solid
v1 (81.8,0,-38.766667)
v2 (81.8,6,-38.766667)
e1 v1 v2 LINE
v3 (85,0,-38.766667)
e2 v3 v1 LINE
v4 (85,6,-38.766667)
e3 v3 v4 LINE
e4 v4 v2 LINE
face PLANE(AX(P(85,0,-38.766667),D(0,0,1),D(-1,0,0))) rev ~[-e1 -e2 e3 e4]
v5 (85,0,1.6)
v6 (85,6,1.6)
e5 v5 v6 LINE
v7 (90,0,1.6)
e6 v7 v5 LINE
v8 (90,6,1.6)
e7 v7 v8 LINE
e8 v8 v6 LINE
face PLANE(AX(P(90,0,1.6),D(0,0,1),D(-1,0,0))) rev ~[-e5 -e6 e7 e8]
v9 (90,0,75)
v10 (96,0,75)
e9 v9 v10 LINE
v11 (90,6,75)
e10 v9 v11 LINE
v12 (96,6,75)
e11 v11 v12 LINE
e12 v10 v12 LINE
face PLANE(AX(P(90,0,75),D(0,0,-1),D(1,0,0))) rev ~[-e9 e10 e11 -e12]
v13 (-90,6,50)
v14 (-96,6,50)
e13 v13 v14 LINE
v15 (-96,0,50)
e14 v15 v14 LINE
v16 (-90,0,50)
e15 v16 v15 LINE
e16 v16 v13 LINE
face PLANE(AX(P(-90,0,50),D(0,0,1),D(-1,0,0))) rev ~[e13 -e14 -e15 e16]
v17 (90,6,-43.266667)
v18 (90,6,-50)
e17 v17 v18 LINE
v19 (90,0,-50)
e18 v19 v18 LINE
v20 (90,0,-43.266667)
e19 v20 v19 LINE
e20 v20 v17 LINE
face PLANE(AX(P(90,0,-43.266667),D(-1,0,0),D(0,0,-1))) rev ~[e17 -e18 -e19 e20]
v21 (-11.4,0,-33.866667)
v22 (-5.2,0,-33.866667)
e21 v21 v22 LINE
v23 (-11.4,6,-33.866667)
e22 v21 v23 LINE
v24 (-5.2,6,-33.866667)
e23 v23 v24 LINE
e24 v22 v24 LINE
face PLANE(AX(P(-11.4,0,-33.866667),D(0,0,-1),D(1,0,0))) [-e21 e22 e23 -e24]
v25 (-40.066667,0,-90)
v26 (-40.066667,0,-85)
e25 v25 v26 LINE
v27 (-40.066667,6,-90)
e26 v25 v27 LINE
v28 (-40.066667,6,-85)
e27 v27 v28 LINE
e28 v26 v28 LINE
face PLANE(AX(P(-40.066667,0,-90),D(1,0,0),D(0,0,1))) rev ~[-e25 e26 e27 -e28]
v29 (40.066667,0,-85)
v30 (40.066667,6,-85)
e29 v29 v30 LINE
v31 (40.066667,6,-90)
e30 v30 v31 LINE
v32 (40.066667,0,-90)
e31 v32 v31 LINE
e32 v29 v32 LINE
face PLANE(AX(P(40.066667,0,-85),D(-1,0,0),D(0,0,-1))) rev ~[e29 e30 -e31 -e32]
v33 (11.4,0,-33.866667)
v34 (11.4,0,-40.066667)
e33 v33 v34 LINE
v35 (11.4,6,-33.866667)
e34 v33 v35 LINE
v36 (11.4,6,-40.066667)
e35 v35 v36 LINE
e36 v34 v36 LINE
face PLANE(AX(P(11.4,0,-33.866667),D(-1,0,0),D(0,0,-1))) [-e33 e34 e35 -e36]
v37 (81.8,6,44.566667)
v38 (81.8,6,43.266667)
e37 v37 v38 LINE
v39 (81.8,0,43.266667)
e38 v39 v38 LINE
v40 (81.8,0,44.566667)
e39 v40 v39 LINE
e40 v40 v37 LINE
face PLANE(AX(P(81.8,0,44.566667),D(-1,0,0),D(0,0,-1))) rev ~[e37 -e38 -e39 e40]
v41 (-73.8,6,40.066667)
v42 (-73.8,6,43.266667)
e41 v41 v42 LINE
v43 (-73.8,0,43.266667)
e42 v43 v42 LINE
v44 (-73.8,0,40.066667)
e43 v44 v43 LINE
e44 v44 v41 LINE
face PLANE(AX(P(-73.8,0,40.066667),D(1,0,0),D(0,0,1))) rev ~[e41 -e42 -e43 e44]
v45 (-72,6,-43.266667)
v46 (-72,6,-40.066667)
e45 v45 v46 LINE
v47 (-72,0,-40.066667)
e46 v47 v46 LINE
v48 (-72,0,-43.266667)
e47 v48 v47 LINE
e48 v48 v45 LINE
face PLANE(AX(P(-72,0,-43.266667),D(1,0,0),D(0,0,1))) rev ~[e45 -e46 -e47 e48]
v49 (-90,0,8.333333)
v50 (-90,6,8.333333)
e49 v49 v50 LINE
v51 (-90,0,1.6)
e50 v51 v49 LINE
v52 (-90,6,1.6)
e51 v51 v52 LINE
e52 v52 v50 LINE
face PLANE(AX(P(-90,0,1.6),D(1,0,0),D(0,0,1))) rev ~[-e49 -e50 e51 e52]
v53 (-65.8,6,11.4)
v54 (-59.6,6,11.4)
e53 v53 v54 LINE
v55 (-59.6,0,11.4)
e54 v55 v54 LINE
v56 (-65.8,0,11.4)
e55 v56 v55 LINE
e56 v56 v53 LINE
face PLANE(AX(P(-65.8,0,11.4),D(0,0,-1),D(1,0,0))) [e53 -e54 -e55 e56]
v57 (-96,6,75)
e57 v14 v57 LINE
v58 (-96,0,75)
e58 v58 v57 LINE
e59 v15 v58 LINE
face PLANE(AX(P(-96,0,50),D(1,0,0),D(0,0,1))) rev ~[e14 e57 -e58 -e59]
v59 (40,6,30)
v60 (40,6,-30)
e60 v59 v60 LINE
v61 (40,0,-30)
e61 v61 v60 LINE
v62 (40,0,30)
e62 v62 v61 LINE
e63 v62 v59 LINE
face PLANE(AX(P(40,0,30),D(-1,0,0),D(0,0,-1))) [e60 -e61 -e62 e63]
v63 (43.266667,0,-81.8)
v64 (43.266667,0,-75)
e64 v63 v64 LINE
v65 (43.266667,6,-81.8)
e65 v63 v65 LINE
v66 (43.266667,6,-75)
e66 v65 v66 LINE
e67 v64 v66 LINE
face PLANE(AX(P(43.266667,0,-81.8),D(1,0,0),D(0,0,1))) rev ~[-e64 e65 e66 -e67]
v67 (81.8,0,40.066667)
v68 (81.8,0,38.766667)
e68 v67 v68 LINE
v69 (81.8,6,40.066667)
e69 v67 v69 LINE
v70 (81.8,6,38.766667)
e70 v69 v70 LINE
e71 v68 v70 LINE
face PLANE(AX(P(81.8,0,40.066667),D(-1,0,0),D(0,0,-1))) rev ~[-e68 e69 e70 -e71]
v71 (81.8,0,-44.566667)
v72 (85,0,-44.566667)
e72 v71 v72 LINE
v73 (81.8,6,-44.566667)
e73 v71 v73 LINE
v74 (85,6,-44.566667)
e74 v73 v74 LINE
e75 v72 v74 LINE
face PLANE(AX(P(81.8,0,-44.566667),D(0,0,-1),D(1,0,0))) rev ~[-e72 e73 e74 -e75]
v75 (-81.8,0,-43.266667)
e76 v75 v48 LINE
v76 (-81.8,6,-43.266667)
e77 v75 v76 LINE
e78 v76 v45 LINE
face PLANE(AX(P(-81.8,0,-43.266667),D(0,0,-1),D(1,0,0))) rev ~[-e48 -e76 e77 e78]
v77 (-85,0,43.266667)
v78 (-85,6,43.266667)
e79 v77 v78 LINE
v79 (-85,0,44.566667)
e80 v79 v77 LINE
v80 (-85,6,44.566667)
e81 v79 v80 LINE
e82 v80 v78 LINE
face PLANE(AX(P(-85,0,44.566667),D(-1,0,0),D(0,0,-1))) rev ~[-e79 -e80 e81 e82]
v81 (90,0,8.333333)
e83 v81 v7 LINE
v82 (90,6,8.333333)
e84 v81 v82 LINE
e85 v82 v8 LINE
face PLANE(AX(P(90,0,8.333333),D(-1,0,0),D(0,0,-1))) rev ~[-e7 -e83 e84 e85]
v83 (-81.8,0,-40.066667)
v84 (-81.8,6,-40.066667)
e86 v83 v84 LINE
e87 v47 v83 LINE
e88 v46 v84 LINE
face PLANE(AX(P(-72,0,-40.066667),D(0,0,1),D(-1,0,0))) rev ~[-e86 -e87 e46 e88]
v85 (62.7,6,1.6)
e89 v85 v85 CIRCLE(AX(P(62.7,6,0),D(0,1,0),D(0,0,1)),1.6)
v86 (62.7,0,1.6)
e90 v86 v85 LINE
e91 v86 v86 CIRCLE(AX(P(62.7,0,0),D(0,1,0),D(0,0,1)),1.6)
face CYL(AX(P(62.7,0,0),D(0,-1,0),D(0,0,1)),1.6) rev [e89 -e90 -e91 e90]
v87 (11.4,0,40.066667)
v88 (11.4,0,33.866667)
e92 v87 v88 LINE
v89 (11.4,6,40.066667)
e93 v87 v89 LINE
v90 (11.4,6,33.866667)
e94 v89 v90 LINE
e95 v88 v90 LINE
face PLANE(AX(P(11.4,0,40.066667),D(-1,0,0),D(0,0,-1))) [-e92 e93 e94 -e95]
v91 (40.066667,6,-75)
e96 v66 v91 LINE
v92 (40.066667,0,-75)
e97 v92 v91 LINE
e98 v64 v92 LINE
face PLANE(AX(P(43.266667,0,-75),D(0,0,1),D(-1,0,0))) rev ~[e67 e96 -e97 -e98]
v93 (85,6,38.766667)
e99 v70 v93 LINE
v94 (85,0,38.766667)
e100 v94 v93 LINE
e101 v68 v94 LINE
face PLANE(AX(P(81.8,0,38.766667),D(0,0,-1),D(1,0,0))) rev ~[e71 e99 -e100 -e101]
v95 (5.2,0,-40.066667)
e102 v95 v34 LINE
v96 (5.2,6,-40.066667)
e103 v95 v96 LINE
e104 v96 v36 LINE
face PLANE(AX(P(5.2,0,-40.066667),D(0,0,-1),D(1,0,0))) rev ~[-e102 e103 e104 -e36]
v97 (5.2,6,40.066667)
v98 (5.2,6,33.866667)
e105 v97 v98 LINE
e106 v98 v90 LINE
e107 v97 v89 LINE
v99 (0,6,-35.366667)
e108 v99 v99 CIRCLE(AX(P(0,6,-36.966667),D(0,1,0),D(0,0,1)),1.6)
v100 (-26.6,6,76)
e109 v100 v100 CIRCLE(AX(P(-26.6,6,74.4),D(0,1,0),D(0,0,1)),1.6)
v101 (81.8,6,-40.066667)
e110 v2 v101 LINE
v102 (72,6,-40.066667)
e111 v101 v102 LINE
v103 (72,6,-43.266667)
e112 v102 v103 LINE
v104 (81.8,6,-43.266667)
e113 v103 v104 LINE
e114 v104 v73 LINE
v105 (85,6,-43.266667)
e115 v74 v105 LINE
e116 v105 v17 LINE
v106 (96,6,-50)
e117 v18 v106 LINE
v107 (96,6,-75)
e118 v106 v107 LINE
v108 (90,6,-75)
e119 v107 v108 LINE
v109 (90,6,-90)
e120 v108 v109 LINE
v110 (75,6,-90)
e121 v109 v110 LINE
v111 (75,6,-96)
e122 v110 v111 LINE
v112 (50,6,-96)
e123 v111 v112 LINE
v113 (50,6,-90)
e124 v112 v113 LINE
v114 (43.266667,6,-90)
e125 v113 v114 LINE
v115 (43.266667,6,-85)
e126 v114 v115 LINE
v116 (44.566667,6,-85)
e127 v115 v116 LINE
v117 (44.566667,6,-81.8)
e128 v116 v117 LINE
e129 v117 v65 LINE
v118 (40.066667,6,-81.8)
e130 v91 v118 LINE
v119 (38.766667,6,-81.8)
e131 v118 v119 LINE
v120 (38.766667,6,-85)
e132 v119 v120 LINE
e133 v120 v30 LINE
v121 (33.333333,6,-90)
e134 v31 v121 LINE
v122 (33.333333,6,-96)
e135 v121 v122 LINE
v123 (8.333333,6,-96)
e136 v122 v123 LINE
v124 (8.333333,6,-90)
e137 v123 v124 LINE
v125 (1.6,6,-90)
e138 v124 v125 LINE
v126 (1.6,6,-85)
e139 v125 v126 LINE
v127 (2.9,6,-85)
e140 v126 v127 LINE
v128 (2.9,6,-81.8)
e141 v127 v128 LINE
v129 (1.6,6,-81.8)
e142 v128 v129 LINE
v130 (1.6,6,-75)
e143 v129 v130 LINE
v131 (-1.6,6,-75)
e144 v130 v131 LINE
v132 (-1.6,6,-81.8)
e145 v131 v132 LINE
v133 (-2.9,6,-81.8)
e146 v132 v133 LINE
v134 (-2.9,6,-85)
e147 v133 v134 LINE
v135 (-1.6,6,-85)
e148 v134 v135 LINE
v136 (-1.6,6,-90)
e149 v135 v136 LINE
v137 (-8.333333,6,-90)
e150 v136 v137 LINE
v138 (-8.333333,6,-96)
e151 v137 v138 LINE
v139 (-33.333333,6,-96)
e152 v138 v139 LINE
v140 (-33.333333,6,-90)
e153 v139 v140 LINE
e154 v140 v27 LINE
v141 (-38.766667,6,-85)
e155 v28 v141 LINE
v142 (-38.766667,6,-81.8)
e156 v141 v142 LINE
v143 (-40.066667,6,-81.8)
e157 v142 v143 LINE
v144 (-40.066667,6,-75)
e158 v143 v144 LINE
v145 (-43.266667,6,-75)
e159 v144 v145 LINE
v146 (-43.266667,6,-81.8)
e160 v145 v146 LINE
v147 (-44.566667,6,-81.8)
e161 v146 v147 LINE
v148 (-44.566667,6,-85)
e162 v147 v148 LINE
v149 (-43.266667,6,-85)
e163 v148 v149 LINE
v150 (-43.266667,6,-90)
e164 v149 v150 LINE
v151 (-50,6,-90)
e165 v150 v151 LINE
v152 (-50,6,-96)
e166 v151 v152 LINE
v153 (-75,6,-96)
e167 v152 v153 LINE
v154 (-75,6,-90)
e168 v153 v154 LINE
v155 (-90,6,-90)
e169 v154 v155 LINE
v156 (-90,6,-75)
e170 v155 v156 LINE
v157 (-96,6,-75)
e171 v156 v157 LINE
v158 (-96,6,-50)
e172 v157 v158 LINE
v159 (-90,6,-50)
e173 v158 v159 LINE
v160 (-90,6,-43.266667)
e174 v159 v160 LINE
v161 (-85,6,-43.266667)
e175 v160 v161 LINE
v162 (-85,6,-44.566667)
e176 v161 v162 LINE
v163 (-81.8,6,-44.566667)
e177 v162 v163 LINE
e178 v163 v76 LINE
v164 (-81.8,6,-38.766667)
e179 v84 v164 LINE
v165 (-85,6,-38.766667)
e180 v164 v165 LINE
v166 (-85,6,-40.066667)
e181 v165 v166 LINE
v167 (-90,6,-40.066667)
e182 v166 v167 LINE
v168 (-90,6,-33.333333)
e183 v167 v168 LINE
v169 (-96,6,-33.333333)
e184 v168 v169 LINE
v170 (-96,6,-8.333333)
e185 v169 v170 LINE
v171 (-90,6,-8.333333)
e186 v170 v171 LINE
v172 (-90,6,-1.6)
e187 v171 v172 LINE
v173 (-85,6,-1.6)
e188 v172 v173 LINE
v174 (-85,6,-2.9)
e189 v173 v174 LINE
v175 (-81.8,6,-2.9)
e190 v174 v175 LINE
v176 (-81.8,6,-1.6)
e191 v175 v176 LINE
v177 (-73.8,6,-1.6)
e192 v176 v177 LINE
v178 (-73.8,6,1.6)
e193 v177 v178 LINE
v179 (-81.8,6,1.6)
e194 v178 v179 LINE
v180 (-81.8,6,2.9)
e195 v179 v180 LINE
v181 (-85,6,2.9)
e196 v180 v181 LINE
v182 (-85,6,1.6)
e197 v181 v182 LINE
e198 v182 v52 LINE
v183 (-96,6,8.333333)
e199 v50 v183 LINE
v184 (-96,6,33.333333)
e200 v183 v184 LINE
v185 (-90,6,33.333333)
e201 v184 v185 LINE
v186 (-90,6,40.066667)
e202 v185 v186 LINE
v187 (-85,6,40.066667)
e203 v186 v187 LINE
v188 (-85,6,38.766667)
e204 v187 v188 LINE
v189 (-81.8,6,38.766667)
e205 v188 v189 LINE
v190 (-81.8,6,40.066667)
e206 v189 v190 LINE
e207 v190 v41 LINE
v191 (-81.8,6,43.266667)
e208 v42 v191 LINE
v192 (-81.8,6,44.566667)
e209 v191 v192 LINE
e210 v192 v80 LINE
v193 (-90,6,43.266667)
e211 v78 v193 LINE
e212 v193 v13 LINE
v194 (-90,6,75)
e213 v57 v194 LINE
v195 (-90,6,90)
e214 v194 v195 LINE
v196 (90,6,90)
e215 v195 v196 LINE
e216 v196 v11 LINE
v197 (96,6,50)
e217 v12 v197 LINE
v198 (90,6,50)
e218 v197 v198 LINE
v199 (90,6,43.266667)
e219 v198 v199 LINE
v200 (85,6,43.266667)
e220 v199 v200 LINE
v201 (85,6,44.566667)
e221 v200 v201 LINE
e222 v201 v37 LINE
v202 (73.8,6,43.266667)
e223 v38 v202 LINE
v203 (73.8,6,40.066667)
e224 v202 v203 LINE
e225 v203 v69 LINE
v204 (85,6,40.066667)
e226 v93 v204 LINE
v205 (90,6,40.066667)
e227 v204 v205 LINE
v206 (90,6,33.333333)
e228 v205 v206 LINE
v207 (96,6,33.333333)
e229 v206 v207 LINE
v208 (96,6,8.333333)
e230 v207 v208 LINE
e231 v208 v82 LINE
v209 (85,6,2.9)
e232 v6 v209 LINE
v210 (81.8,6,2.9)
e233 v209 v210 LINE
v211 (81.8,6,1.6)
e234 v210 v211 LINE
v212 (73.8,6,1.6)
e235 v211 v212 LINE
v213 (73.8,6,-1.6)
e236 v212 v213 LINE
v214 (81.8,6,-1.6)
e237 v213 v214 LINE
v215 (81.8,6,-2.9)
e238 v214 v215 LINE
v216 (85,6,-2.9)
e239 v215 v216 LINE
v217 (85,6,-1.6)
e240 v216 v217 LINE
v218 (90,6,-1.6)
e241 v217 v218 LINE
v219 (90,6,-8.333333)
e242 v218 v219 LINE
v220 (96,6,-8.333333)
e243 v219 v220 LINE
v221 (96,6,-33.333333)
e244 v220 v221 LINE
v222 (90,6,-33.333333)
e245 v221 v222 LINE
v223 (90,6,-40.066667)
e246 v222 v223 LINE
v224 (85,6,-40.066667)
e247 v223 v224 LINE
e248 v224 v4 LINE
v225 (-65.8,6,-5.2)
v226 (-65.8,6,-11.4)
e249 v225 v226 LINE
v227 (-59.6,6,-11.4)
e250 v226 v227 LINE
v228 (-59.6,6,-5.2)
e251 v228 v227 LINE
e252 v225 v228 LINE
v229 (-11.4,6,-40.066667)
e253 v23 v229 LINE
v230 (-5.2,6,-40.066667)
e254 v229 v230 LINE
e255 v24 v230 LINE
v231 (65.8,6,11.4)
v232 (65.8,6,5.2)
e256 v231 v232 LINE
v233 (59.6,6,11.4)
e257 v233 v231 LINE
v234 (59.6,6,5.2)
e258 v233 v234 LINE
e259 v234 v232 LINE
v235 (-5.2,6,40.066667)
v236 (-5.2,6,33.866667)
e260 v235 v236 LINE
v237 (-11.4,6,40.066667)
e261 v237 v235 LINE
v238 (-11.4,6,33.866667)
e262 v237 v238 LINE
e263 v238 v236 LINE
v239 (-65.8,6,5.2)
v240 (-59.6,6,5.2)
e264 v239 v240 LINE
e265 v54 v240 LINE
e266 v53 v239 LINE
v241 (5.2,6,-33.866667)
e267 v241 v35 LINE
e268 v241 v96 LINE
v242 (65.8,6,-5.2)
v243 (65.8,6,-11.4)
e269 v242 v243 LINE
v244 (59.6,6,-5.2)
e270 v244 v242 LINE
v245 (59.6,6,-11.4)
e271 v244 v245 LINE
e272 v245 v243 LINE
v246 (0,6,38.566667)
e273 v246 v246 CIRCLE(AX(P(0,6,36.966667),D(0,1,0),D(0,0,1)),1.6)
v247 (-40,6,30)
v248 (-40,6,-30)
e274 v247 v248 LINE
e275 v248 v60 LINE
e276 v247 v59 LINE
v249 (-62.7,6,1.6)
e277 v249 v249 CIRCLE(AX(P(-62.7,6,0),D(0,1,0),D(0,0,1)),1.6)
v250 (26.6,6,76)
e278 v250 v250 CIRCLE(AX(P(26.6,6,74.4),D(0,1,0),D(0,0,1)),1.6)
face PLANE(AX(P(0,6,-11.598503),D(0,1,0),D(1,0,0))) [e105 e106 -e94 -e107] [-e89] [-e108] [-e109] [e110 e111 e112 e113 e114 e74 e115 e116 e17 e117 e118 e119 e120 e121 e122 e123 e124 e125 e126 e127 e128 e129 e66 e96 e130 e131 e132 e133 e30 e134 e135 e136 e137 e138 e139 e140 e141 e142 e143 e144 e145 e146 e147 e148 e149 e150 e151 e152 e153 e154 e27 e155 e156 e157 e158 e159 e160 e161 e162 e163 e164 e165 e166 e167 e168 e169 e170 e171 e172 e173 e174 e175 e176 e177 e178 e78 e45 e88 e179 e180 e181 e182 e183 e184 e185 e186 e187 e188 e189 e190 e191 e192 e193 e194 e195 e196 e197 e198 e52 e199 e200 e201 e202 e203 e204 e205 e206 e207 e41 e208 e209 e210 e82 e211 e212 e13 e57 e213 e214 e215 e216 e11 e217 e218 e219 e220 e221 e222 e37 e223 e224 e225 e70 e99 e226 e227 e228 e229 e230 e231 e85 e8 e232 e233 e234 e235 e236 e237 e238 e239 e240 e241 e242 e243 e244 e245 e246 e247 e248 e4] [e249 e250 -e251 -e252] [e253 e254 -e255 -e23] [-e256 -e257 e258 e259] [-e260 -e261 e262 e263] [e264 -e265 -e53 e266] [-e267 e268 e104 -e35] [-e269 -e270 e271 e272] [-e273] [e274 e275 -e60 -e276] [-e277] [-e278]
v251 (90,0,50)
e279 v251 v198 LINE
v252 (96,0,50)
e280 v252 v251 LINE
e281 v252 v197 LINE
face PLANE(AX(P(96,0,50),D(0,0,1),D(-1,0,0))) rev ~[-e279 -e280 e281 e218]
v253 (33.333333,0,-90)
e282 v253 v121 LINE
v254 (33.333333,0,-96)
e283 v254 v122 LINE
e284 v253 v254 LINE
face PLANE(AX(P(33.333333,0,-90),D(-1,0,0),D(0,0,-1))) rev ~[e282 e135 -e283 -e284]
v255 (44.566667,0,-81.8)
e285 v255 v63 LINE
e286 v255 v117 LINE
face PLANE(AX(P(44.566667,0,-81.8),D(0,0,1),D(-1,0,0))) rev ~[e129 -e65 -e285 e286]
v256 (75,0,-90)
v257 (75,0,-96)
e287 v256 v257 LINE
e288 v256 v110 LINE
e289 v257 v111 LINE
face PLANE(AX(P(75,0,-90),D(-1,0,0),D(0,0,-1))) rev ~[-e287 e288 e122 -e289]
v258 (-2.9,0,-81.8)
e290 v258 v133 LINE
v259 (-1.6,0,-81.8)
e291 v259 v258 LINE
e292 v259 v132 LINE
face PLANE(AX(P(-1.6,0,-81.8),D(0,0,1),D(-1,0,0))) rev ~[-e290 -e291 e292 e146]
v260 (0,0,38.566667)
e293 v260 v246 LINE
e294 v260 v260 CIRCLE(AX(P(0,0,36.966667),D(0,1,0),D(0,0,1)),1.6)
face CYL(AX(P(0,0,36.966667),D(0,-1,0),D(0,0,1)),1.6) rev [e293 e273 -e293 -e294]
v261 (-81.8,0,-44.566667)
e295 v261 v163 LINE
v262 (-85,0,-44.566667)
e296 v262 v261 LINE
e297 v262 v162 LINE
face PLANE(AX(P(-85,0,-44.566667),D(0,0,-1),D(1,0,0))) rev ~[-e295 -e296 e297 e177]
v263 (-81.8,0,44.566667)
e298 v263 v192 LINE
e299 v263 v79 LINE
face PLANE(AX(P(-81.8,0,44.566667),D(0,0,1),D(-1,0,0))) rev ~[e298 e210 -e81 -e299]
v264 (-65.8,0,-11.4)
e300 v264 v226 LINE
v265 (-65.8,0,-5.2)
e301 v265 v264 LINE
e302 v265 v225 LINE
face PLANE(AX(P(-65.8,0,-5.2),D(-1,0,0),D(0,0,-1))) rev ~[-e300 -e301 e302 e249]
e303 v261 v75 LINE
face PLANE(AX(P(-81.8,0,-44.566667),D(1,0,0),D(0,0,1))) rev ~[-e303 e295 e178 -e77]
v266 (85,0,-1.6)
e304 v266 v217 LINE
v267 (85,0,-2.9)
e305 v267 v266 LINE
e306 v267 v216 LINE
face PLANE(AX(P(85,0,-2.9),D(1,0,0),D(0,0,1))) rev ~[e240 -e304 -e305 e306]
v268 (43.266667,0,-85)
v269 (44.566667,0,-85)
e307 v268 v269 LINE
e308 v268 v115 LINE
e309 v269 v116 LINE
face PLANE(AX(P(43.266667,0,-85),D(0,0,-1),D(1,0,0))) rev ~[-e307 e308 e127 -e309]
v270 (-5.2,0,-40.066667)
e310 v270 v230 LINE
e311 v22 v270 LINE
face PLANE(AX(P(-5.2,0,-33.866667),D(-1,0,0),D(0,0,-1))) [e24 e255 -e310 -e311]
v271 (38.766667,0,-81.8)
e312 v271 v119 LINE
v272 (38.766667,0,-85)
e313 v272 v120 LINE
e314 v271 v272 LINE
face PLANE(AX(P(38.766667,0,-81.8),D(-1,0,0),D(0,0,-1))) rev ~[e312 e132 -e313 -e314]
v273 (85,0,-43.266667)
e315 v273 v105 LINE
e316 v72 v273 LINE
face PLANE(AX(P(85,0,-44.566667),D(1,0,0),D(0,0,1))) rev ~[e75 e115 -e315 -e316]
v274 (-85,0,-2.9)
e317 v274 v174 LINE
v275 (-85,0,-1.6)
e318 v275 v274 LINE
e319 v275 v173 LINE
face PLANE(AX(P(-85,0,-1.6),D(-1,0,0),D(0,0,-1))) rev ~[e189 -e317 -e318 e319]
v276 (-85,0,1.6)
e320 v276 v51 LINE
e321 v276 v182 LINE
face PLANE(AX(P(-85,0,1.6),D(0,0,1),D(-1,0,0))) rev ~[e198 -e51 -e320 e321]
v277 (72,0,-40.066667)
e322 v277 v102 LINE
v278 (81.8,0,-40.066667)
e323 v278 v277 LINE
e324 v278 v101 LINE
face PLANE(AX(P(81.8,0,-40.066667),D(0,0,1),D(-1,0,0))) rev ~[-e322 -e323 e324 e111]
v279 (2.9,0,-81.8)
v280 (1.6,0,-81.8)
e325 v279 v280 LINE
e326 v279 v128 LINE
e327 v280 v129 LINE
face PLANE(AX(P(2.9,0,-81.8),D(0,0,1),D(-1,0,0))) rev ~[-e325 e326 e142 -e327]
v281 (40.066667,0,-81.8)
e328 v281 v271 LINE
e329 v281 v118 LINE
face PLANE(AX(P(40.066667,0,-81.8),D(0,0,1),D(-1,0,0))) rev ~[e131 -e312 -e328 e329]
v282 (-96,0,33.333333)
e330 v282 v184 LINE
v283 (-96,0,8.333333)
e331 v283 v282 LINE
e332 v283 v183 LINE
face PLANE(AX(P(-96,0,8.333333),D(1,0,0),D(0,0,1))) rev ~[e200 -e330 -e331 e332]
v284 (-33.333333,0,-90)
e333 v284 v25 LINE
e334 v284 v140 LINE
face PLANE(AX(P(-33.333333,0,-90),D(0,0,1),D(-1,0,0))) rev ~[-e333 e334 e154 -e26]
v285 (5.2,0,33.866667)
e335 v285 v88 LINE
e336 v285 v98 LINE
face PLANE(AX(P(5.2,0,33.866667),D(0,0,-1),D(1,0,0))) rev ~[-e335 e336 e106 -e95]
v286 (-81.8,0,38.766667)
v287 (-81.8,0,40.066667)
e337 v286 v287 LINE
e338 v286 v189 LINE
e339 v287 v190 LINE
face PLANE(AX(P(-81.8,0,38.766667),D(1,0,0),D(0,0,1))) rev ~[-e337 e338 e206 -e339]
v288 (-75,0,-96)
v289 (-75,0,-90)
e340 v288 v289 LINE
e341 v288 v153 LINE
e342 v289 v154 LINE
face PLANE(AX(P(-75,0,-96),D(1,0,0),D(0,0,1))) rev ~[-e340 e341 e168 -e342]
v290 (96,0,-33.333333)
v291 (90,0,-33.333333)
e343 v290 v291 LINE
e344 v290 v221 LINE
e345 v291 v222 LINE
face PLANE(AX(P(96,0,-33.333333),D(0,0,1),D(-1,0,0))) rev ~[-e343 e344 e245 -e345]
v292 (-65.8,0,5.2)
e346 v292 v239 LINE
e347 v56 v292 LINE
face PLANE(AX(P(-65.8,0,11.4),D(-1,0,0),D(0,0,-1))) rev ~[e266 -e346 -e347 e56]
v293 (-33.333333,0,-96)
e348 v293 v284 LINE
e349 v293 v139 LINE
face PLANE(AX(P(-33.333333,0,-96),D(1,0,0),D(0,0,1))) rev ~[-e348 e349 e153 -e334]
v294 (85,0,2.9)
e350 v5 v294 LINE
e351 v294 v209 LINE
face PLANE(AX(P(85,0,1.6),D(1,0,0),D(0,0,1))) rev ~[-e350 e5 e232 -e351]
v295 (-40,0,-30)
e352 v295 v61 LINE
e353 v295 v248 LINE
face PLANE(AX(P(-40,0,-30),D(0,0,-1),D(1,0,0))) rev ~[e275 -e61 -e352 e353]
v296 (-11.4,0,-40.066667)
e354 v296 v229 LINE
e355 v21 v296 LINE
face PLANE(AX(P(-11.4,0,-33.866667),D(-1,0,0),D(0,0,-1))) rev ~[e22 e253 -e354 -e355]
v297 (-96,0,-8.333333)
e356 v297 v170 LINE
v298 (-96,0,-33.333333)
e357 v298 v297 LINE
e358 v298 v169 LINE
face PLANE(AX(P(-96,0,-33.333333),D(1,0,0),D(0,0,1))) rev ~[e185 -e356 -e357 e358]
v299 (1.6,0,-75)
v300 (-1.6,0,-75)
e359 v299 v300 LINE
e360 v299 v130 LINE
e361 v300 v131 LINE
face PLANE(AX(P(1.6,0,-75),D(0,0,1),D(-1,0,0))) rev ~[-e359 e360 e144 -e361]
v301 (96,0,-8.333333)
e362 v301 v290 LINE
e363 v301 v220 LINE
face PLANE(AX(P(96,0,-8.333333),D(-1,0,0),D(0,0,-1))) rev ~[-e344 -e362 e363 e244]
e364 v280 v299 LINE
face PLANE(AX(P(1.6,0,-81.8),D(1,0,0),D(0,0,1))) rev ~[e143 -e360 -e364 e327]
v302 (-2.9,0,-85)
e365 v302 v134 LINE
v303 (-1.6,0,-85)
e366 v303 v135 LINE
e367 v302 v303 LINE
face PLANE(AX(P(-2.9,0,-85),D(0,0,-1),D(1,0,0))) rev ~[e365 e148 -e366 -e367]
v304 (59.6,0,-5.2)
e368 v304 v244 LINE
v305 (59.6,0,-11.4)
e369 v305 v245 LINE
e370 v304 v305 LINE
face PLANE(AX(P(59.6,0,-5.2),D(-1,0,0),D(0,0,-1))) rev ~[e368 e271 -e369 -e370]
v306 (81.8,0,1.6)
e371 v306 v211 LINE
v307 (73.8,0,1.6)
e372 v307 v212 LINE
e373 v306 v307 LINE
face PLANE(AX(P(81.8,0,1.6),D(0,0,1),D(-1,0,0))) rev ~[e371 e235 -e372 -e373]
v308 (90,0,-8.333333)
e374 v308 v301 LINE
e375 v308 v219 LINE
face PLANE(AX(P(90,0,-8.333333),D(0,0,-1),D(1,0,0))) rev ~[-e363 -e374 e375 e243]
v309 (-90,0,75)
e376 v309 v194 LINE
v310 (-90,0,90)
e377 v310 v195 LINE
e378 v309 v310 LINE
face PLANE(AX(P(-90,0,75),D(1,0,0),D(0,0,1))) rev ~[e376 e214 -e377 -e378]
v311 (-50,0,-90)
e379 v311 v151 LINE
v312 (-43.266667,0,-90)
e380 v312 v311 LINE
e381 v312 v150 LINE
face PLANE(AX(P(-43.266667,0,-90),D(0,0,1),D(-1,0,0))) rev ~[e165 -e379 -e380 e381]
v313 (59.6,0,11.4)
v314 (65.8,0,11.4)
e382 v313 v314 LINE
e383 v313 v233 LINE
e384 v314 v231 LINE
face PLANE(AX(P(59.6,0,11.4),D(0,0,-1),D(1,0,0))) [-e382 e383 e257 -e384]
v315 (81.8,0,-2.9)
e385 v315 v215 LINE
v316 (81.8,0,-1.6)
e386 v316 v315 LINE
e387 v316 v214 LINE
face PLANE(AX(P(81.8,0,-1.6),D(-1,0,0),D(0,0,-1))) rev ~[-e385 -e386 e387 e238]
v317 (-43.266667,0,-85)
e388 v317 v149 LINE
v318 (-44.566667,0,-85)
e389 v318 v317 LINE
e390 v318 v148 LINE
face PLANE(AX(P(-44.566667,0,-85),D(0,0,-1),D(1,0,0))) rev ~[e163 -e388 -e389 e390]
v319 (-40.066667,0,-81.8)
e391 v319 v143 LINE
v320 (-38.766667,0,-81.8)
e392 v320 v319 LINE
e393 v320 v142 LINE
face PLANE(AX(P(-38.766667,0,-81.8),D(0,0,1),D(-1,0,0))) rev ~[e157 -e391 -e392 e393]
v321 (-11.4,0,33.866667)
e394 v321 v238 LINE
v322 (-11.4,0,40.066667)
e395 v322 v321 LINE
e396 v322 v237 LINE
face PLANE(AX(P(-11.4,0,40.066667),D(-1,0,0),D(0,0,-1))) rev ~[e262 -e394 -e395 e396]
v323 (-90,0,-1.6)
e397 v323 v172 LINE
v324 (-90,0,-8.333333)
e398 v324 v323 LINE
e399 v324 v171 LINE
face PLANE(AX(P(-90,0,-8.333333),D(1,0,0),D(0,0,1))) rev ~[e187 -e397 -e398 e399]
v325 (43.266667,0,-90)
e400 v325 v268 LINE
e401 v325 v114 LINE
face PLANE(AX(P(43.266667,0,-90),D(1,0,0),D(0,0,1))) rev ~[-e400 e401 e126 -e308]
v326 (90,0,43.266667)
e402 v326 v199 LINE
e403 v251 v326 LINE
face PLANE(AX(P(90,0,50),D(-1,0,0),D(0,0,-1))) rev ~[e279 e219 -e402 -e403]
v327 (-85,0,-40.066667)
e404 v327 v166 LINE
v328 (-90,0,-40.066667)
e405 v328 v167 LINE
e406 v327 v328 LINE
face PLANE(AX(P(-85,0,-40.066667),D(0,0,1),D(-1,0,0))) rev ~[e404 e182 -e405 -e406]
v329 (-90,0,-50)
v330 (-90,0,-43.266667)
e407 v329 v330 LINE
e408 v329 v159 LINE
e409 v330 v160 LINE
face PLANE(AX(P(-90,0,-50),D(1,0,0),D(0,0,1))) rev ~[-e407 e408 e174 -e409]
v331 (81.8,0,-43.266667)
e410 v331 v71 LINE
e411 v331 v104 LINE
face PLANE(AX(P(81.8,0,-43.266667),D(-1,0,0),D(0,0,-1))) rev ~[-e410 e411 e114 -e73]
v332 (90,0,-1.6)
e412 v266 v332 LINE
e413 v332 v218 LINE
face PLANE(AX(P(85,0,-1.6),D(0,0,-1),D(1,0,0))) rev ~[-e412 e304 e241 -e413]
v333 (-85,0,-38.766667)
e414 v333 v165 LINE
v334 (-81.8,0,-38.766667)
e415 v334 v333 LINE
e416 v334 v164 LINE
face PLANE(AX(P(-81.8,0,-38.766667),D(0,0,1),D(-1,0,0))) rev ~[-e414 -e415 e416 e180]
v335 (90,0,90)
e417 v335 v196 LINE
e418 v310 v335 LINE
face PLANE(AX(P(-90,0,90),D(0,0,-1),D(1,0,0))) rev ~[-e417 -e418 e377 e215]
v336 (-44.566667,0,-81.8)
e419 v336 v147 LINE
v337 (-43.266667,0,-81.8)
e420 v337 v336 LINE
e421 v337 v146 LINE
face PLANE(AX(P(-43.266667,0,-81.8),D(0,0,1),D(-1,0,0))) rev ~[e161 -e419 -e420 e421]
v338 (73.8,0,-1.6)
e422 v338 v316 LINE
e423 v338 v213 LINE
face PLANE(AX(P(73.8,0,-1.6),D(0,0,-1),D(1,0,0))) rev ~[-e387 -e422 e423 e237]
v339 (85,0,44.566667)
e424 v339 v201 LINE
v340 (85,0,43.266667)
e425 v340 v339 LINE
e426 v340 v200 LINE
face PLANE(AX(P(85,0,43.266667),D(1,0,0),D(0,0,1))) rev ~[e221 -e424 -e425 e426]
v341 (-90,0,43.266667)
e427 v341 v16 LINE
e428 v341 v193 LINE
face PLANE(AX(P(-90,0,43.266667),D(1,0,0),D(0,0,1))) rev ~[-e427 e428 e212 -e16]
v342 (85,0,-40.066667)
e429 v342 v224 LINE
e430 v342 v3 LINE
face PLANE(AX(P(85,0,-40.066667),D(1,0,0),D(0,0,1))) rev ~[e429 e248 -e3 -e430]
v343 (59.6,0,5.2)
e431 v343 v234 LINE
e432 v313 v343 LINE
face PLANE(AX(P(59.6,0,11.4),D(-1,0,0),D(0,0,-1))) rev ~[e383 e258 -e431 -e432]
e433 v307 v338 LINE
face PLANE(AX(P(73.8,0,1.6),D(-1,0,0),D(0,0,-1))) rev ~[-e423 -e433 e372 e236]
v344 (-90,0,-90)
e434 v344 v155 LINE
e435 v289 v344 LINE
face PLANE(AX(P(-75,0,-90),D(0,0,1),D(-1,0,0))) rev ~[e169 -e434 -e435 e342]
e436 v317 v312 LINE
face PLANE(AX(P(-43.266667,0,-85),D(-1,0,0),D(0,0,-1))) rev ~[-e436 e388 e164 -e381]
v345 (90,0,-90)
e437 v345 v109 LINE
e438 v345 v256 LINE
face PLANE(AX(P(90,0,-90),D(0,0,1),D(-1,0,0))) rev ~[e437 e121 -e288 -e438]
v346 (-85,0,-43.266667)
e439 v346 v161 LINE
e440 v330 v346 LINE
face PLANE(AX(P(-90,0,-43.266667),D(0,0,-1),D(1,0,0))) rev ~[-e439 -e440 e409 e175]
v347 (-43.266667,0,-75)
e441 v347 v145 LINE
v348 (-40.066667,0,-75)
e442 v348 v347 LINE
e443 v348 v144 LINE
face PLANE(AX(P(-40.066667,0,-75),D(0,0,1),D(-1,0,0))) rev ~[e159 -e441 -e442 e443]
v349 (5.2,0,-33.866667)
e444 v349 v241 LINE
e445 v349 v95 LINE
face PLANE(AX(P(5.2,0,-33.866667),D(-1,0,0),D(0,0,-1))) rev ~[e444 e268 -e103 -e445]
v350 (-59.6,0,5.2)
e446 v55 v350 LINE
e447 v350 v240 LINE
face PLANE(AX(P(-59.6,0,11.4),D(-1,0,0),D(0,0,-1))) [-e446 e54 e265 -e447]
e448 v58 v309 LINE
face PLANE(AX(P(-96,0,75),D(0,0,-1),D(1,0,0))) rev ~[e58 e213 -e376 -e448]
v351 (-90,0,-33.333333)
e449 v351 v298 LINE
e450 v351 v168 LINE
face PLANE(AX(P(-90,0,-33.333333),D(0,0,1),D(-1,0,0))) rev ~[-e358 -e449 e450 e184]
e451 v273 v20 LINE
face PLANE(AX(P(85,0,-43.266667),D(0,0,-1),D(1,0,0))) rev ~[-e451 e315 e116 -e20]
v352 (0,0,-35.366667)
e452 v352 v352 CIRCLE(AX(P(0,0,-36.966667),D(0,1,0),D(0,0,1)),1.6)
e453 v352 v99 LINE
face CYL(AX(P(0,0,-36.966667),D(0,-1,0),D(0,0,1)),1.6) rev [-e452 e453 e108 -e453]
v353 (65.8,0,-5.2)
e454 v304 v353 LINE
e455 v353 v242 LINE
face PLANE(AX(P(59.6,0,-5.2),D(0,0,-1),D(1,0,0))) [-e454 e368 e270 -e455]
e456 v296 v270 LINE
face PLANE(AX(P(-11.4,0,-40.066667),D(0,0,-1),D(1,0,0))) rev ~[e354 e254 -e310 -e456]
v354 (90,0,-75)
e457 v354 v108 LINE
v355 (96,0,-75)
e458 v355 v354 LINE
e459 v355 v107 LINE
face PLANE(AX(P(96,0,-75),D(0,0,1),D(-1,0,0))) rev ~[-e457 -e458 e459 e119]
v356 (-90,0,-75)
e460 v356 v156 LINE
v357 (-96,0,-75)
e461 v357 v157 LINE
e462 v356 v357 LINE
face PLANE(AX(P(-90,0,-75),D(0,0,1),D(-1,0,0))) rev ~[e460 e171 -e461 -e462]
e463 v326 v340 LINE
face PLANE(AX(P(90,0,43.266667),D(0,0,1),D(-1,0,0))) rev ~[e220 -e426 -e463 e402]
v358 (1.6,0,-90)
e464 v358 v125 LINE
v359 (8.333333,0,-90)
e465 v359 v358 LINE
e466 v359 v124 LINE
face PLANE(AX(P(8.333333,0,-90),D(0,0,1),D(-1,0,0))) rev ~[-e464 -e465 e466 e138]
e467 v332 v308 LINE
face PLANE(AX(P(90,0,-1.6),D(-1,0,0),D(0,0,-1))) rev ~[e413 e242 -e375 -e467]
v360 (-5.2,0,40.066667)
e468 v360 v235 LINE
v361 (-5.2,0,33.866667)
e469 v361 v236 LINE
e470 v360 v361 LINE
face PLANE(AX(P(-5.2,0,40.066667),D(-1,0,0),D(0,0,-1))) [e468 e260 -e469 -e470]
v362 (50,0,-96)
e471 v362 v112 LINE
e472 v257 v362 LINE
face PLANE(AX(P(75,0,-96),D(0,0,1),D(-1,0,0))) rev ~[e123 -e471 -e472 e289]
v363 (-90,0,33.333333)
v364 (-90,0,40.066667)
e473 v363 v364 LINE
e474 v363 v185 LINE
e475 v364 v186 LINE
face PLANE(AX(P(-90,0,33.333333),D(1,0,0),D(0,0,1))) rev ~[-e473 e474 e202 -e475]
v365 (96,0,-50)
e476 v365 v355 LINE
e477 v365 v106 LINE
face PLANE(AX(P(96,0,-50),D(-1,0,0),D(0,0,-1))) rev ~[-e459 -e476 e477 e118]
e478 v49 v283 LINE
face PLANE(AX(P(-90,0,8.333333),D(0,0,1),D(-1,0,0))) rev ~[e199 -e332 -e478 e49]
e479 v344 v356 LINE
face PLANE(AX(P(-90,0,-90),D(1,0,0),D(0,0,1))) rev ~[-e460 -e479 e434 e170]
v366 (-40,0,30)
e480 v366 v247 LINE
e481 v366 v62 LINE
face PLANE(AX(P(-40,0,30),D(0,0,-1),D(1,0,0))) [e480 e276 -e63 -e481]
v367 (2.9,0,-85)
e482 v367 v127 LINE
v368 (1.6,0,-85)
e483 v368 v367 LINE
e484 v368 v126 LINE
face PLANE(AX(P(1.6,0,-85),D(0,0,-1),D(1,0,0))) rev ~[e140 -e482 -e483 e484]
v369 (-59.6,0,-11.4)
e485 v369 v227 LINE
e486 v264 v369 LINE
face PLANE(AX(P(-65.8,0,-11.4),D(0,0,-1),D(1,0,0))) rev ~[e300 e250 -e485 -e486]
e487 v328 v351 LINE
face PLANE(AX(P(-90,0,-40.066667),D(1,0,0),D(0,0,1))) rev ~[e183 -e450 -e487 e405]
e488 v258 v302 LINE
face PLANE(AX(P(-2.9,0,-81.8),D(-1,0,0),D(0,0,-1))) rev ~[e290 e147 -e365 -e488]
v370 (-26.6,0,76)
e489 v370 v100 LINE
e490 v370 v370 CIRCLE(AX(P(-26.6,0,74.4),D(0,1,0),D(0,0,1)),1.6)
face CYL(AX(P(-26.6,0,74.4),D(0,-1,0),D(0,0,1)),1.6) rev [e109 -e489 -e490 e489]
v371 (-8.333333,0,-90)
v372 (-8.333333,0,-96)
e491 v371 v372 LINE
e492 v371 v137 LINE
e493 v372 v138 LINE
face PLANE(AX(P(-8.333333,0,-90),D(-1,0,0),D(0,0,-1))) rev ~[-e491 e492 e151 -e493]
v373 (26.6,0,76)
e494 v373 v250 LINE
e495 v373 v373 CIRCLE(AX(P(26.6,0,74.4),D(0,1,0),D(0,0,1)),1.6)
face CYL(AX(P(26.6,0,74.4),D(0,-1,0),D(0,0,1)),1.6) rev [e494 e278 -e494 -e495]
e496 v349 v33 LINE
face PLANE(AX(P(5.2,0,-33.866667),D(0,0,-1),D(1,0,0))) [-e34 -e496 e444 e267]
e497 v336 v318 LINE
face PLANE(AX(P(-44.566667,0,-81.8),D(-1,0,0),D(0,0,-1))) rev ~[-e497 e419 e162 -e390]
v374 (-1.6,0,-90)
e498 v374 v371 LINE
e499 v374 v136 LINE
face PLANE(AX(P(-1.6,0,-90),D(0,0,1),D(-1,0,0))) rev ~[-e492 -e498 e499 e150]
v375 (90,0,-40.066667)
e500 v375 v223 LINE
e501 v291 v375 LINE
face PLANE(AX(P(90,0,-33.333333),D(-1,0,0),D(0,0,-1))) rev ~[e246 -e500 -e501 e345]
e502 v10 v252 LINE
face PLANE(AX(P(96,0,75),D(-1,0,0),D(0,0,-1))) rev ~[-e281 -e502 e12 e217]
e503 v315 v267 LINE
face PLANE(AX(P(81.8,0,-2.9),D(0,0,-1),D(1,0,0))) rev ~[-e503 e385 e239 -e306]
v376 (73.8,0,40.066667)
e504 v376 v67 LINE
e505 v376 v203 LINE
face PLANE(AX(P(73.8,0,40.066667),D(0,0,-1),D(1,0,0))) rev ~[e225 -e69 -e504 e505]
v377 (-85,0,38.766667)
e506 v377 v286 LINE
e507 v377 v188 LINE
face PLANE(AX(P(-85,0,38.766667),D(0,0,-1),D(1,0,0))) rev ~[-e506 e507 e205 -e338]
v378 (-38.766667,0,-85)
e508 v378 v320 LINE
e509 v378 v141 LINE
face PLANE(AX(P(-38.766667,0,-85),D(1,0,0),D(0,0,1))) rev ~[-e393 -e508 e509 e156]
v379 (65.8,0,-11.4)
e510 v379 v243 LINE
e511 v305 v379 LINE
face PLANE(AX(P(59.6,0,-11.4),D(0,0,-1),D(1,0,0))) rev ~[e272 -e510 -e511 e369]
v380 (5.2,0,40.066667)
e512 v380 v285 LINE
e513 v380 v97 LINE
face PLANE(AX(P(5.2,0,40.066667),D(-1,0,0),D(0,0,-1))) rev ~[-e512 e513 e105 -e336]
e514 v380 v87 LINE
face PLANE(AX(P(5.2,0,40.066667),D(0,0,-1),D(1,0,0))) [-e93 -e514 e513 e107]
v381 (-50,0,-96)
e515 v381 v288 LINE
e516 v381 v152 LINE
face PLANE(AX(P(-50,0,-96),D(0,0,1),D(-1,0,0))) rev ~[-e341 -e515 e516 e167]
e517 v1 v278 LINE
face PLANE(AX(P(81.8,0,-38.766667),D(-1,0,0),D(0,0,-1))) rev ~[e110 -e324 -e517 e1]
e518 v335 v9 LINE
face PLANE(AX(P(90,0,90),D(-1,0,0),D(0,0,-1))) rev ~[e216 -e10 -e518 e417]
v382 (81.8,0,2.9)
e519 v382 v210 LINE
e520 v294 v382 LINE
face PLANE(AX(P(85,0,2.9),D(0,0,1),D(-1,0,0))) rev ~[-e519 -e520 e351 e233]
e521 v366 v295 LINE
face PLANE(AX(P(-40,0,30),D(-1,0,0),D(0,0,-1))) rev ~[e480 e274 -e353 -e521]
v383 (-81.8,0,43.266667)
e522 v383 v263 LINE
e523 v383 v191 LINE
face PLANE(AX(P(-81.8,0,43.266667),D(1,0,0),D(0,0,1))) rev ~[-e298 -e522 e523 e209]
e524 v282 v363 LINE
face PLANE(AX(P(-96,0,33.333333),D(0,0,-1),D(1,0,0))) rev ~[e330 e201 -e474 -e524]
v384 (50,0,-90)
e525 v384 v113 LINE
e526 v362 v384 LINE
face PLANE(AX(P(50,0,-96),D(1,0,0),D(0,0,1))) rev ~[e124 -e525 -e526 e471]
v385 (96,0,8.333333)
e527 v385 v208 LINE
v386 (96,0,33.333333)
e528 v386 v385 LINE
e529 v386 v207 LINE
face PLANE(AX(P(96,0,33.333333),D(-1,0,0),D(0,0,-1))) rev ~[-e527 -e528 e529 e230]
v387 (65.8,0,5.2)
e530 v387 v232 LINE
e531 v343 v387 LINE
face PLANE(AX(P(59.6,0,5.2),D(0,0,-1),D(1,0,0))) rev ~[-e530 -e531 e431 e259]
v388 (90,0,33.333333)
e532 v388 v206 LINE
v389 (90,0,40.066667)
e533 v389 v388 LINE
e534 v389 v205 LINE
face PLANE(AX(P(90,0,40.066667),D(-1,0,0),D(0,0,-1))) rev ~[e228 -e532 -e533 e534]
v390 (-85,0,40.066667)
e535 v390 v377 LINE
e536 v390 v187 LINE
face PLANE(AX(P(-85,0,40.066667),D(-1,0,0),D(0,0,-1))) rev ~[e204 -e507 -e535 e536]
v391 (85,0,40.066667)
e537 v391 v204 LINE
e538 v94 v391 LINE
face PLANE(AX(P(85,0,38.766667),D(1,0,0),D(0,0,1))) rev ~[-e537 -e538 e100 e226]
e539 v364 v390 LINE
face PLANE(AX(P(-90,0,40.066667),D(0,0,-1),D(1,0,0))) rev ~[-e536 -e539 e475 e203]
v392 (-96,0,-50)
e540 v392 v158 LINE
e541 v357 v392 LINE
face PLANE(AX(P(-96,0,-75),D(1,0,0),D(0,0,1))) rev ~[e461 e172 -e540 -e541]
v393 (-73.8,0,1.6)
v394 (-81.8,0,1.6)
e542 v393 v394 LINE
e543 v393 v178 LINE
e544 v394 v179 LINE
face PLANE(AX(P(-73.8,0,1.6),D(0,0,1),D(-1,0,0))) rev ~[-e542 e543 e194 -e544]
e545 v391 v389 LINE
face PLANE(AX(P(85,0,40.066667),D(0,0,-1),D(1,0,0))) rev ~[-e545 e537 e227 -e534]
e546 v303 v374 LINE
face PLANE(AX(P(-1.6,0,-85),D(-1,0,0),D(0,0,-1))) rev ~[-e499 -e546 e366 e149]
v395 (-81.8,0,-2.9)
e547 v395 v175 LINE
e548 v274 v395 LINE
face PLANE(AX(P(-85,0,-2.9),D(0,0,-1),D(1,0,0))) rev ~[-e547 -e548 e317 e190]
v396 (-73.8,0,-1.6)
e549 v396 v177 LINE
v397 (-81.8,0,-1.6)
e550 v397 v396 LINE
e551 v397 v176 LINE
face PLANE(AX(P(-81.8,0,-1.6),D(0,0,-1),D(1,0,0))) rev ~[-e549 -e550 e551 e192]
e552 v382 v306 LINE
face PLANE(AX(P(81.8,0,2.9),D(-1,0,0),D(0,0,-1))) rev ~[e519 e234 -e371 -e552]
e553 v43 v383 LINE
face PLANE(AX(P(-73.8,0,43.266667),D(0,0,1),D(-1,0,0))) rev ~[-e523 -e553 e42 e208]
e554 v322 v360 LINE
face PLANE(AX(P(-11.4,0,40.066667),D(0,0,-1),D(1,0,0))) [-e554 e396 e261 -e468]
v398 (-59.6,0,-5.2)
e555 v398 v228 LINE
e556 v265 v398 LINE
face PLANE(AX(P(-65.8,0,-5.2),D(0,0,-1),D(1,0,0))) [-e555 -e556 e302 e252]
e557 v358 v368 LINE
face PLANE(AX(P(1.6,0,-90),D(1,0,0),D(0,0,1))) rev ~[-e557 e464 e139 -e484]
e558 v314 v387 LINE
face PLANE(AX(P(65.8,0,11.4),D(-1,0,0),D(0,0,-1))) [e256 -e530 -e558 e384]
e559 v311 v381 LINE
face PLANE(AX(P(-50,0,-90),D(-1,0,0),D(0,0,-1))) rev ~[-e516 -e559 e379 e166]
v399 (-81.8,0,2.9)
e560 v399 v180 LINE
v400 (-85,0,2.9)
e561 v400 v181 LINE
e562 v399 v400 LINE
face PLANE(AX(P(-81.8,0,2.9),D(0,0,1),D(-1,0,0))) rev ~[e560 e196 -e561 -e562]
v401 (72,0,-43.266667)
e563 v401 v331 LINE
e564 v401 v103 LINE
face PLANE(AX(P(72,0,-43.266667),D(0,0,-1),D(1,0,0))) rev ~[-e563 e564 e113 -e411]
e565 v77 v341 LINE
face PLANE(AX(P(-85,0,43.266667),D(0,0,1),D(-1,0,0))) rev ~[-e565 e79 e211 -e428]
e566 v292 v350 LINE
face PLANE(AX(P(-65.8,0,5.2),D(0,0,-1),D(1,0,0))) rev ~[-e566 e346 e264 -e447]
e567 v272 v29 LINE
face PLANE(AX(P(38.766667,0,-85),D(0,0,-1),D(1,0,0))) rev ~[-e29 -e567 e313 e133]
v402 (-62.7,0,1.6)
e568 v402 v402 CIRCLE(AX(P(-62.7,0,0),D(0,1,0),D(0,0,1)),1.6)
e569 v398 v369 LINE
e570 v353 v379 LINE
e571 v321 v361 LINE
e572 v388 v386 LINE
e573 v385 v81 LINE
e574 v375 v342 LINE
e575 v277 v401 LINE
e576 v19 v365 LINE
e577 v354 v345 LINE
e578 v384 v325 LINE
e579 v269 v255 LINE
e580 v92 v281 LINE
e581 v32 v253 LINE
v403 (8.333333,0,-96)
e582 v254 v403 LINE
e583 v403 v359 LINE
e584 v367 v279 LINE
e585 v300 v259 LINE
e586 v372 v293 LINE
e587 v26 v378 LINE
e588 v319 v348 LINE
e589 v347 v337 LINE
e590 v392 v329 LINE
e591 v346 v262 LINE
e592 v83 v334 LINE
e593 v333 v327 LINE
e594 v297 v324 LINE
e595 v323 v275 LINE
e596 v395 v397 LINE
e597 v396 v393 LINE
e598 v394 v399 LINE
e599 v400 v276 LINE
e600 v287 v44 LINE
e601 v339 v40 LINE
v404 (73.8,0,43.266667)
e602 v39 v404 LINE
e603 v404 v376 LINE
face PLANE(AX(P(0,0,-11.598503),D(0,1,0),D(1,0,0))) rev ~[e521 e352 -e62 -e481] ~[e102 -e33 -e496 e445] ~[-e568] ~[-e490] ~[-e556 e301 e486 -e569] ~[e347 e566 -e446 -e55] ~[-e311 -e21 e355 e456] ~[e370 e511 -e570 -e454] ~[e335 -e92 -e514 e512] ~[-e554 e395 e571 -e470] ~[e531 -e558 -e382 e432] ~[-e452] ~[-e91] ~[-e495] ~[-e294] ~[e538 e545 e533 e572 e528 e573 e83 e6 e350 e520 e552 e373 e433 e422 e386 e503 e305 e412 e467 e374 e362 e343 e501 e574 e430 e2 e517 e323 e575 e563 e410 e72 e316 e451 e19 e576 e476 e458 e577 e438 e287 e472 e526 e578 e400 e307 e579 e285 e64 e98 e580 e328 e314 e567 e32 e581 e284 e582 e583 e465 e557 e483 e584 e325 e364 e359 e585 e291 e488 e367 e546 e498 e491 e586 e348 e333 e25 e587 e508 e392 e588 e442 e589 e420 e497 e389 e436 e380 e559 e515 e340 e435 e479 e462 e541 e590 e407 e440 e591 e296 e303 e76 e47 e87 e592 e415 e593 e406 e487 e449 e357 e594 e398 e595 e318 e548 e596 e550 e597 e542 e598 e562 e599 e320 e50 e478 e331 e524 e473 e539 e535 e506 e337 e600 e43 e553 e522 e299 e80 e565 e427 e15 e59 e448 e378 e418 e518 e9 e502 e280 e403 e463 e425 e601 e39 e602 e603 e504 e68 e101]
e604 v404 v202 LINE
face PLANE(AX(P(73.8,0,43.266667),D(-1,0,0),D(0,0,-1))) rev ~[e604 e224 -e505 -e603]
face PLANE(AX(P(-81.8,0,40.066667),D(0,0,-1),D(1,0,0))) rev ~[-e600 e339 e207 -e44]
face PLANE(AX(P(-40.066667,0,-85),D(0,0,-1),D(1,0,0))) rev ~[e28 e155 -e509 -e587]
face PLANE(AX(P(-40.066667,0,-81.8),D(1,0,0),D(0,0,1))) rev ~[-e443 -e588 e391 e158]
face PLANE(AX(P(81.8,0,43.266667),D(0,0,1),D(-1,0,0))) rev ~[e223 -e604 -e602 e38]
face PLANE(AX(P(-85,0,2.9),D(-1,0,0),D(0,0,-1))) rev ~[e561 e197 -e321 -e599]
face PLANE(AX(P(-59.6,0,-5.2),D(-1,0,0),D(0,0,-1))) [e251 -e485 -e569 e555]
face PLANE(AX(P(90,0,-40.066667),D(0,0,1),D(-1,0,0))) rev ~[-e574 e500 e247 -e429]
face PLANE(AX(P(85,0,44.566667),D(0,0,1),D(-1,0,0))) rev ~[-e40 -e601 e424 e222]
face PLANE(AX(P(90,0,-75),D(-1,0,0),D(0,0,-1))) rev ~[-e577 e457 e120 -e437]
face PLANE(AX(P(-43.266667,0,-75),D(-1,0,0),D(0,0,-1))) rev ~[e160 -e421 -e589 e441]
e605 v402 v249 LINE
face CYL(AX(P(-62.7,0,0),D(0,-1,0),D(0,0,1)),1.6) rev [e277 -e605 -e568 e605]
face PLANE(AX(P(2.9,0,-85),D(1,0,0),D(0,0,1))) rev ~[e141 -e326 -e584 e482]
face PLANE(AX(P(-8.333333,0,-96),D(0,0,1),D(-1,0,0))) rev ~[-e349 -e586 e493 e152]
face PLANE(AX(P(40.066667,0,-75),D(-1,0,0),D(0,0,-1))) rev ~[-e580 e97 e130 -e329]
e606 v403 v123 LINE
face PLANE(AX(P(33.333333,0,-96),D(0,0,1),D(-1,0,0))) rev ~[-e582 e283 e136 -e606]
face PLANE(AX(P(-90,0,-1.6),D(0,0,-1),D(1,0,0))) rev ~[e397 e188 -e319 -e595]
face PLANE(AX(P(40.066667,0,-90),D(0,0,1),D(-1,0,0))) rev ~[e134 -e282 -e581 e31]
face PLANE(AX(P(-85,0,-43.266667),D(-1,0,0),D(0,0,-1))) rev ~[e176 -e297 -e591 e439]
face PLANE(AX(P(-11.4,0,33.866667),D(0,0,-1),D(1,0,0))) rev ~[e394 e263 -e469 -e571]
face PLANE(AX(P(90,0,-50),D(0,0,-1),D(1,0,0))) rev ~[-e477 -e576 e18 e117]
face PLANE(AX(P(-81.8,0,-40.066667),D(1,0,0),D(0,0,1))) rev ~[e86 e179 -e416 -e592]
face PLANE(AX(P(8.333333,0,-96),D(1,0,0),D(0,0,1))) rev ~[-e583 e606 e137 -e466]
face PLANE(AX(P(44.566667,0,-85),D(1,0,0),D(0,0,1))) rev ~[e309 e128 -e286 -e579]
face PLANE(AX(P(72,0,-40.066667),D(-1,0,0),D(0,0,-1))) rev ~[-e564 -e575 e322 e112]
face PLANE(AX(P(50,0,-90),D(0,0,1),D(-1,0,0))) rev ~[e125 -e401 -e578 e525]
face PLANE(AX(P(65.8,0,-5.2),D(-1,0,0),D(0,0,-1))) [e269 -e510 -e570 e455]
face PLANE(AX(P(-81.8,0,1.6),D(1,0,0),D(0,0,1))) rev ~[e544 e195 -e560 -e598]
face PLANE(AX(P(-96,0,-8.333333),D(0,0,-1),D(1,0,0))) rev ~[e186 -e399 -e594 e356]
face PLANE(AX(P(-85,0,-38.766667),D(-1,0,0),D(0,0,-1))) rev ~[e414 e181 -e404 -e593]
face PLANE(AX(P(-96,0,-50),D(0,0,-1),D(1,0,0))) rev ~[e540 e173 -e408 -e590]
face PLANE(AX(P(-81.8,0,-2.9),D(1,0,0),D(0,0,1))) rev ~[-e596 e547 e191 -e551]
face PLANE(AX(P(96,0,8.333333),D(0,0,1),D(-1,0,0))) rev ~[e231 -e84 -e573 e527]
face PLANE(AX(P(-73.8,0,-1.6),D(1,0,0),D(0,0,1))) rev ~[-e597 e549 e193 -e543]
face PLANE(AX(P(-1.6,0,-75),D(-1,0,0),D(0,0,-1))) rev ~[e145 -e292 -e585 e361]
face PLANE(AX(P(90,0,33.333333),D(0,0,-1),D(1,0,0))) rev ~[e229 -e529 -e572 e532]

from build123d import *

# Parameters (mm, degrees)
SKETCH1_R           = 1.6
SKETCH1_W           = 6.2
SKETCH1_H           = 6.2
SKETCH1_W_2         = 80
SKETCH1_H_2         = 60
BOSS_EXTRUDE1_DEPTH = 6


with BuildPart() as part:
    # Sketch1 → Boss-Extrude1 (new body)
    with BuildSketch(Plane(origin=(0, 0, 0), x_dir=(1, 0, 0), z_dir=(0, 1, 0))):
        Polygon((85, 43.266666667), (90, 43.266666667), (90, 50), (96, 50), (96, 75), (90, 75), (90, 90), (75, 90), (75, 96), (50, 96), (50, 90), (43.266666667, 90), (43.266666667, 85), (44.566666667, 85), (44.566666667, 81.8), (43.266666667, 81.8), (43.266666667, 75), (40.066666667, 75), (40.066666667, 81.8), (38.766666667, 81.8), (38.766666667, 85), (40.066666667, 85), (40.066666667, 90), (33.333333333, 90), (33.333333333, 96), (8.333333333, 96), (8.333333333, 90), (1.6, 90), (1.6, 85), (2.9, 85), (2.9, 81.8), (1.6, 81.8), (1.6, 75), (-1.6, 75), (-1.6, 81.8), (-2.9, 81.8), (-2.9, 85), (-1.6, 85), (-1.6, 90), (-8.333333333, 90), (-8.333333333, 96), (-33.333333333, 96), (-33.333333333, 90), (-40.066666667, 90), (-40.066666667, 85), (-38.766666667, 85), (-38.766666667, 81.8), (-40.066666667, 81.8), (-40.066666667, 75), (-43.266666667, 75), (-43.266666667, 81.8), (-44.566666667, 81.8), (-44.566666667, 85), (-43.266666667, 85), (-43.266666667, 90), (-50, 90), (-50, 96), (-75, 96), (-75, 90), (-90, 90), (-90, 75), (-96, 75), (-96, 50), (-90, 50), (-90, 43.266666667), (-85, 43.266666667), (-85, 44.566666667), (-81.8, 44.566666667), (-81.8, 43.266666667), (-72, 43.266666667), (-72, 40.066666667), (-81.8, 40.066666667), (-81.8, 38.766666667), (-85, 38.766666667), (-85, 40.066666667), (-90, 40.066666667), (-90, 33.333333333), (-96, 33.333333333), (-96, 8.333333333), (-90, 8.333333333), (-90, 1.6), (-85, 1.6), (-85, 2.9), (-81.8, 2.9), (-81.8, 1.6), (-73.8, 1.6), (-73.8, -1.6), (-81.8, -1.6), (-81.8, -2.9), (-85, -2.9), (-85, -1.6), (-90, -1.6), (-90, -8.333333333), (-96, -8.333333333), (-96, -33.333333333), (-90, -33.333333333), (-90, -40.066666667), (-85, -40.066666667), (-85, -38.766666667), (-81.8, -38.766666667), (-81.8, -40.066666667), (-73.8, -40.066666667), (-73.8, -43.266666667), (-81.8, -43.266666667), (-81.8, -44.566666667), (-85, -44.566666667), (-85, -43.266666667), (-90, -43.266666667), (-90, -50), (-96, -50), (-96, -75), (-90, -75), (-90, -90), (90, -90), (90, -75), (96, -75), (96, -50), (90, -50), (90, -43.266666667), (85, -43.266666667), (85, -44.566666667), (81.8, -44.566666667), (81.8, -43.266666667), (73.8, -43.266666667), (73.8, -40.066666667), (81.8, -40.066666667), (81.8, -38.766666667), (85, -38.766666667), (85, -40.066666667), (90, -40.066666667), (90, -33.333333333), (96, -33.333333333), (96, -8.333333333), (90, -8.333333333), (90, -1.6), (85, -1.6), (85, -2.9), (81.8, -2.9), (81.8, -1.6), (73.8, -1.6), (73.8, 1.6), (81.8, 1.6), (81.8, 2.9), (85, 2.9), (85, 1.6), (90, 1.6), (90, 8.333333333), (96, 8.333333333), (96, 33.333333333), (90, 33.333333333), (90, 40.066666667), (85, 40.066666667), (85, 38.766666667), (81.8, 38.766666667), (81.8, 40.066666667), (72, 40.066666667), (72, 43.266666667), (81.8, 43.266666667), (81.8, 44.566666667), (85, 44.566666667), align=None)
        with Locations(Location((-26.6, -74.4, 0), (0, 0, 270))):
            Circle(SKETCH1_R, mode=Mode.SUBTRACT)
        with Locations((-62.7, -8.3)):
            Rectangle(SKETCH1_W, SKETCH1_H, mode=Mode.SUBTRACT)
        with Locations(Location((-62.7, 0, 0), (0, 0, 270))):
            Circle(SKETCH1_R, mode=Mode.SUBTRACT)
        with Locations((-8.3, -36.966666667)):
            Rectangle(SKETCH1_W, SKETCH1_H, mode=Mode.SUBTRACT)
        with Locations(Location((0, -36.966666667, 0), (0, 0, 270))):
            Circle(SKETCH1_R, mode=Mode.SUBTRACT)
        Rectangle(SKETCH1_W_2, SKETCH1_H_2, mode=Mode.SUBTRACT)
        with Locations(Location((26.6, -74.4, 0), (0, 0, 270))):
            Circle(SKETCH1_R, mode=Mode.SUBTRACT)
        with Locations((8.3, -36.966666667)):
            Rectangle(SKETCH1_W, SKETCH1_H, mode=Mode.SUBTRACT)
        with Locations((62.7, -8.3)):
            Rectangle(SKETCH1_W, SKETCH1_H, mode=Mode.SUBTRACT)
        with Locations(Location((62.7, 0, 0), (0, 0, 270))):
            Circle(SKETCH1_R, mode=Mode.SUBTRACT)
        with Locations((-62.7, 8.3)):
            Rectangle(SKETCH1_W, SKETCH1_H, mode=Mode.SUBTRACT)
        with Locations((-8.3, 36.966666667)):
            Rectangle(SKETCH1_W, SKETCH1_H, mode=Mode.SUBTRACT)
        with Locations(Location((0, 36.966666667, 0), (0, 0, 270))):
            Circle(SKETCH1_R, mode=Mode.SUBTRACT)
        with Locations((8.3, 36.966666667)):
            Rectangle(SKETCH1_W, SKETCH1_H, mode=Mode.SUBTRACT)
        with Locations((62.7, 8.3)):
            Rectangle(SKETCH1_W, SKETCH1_H, mode=Mode.SUBTRACT)
    extrude(amount=BOSS_EXTRUDE1_DEPTH)


solid = part.part
